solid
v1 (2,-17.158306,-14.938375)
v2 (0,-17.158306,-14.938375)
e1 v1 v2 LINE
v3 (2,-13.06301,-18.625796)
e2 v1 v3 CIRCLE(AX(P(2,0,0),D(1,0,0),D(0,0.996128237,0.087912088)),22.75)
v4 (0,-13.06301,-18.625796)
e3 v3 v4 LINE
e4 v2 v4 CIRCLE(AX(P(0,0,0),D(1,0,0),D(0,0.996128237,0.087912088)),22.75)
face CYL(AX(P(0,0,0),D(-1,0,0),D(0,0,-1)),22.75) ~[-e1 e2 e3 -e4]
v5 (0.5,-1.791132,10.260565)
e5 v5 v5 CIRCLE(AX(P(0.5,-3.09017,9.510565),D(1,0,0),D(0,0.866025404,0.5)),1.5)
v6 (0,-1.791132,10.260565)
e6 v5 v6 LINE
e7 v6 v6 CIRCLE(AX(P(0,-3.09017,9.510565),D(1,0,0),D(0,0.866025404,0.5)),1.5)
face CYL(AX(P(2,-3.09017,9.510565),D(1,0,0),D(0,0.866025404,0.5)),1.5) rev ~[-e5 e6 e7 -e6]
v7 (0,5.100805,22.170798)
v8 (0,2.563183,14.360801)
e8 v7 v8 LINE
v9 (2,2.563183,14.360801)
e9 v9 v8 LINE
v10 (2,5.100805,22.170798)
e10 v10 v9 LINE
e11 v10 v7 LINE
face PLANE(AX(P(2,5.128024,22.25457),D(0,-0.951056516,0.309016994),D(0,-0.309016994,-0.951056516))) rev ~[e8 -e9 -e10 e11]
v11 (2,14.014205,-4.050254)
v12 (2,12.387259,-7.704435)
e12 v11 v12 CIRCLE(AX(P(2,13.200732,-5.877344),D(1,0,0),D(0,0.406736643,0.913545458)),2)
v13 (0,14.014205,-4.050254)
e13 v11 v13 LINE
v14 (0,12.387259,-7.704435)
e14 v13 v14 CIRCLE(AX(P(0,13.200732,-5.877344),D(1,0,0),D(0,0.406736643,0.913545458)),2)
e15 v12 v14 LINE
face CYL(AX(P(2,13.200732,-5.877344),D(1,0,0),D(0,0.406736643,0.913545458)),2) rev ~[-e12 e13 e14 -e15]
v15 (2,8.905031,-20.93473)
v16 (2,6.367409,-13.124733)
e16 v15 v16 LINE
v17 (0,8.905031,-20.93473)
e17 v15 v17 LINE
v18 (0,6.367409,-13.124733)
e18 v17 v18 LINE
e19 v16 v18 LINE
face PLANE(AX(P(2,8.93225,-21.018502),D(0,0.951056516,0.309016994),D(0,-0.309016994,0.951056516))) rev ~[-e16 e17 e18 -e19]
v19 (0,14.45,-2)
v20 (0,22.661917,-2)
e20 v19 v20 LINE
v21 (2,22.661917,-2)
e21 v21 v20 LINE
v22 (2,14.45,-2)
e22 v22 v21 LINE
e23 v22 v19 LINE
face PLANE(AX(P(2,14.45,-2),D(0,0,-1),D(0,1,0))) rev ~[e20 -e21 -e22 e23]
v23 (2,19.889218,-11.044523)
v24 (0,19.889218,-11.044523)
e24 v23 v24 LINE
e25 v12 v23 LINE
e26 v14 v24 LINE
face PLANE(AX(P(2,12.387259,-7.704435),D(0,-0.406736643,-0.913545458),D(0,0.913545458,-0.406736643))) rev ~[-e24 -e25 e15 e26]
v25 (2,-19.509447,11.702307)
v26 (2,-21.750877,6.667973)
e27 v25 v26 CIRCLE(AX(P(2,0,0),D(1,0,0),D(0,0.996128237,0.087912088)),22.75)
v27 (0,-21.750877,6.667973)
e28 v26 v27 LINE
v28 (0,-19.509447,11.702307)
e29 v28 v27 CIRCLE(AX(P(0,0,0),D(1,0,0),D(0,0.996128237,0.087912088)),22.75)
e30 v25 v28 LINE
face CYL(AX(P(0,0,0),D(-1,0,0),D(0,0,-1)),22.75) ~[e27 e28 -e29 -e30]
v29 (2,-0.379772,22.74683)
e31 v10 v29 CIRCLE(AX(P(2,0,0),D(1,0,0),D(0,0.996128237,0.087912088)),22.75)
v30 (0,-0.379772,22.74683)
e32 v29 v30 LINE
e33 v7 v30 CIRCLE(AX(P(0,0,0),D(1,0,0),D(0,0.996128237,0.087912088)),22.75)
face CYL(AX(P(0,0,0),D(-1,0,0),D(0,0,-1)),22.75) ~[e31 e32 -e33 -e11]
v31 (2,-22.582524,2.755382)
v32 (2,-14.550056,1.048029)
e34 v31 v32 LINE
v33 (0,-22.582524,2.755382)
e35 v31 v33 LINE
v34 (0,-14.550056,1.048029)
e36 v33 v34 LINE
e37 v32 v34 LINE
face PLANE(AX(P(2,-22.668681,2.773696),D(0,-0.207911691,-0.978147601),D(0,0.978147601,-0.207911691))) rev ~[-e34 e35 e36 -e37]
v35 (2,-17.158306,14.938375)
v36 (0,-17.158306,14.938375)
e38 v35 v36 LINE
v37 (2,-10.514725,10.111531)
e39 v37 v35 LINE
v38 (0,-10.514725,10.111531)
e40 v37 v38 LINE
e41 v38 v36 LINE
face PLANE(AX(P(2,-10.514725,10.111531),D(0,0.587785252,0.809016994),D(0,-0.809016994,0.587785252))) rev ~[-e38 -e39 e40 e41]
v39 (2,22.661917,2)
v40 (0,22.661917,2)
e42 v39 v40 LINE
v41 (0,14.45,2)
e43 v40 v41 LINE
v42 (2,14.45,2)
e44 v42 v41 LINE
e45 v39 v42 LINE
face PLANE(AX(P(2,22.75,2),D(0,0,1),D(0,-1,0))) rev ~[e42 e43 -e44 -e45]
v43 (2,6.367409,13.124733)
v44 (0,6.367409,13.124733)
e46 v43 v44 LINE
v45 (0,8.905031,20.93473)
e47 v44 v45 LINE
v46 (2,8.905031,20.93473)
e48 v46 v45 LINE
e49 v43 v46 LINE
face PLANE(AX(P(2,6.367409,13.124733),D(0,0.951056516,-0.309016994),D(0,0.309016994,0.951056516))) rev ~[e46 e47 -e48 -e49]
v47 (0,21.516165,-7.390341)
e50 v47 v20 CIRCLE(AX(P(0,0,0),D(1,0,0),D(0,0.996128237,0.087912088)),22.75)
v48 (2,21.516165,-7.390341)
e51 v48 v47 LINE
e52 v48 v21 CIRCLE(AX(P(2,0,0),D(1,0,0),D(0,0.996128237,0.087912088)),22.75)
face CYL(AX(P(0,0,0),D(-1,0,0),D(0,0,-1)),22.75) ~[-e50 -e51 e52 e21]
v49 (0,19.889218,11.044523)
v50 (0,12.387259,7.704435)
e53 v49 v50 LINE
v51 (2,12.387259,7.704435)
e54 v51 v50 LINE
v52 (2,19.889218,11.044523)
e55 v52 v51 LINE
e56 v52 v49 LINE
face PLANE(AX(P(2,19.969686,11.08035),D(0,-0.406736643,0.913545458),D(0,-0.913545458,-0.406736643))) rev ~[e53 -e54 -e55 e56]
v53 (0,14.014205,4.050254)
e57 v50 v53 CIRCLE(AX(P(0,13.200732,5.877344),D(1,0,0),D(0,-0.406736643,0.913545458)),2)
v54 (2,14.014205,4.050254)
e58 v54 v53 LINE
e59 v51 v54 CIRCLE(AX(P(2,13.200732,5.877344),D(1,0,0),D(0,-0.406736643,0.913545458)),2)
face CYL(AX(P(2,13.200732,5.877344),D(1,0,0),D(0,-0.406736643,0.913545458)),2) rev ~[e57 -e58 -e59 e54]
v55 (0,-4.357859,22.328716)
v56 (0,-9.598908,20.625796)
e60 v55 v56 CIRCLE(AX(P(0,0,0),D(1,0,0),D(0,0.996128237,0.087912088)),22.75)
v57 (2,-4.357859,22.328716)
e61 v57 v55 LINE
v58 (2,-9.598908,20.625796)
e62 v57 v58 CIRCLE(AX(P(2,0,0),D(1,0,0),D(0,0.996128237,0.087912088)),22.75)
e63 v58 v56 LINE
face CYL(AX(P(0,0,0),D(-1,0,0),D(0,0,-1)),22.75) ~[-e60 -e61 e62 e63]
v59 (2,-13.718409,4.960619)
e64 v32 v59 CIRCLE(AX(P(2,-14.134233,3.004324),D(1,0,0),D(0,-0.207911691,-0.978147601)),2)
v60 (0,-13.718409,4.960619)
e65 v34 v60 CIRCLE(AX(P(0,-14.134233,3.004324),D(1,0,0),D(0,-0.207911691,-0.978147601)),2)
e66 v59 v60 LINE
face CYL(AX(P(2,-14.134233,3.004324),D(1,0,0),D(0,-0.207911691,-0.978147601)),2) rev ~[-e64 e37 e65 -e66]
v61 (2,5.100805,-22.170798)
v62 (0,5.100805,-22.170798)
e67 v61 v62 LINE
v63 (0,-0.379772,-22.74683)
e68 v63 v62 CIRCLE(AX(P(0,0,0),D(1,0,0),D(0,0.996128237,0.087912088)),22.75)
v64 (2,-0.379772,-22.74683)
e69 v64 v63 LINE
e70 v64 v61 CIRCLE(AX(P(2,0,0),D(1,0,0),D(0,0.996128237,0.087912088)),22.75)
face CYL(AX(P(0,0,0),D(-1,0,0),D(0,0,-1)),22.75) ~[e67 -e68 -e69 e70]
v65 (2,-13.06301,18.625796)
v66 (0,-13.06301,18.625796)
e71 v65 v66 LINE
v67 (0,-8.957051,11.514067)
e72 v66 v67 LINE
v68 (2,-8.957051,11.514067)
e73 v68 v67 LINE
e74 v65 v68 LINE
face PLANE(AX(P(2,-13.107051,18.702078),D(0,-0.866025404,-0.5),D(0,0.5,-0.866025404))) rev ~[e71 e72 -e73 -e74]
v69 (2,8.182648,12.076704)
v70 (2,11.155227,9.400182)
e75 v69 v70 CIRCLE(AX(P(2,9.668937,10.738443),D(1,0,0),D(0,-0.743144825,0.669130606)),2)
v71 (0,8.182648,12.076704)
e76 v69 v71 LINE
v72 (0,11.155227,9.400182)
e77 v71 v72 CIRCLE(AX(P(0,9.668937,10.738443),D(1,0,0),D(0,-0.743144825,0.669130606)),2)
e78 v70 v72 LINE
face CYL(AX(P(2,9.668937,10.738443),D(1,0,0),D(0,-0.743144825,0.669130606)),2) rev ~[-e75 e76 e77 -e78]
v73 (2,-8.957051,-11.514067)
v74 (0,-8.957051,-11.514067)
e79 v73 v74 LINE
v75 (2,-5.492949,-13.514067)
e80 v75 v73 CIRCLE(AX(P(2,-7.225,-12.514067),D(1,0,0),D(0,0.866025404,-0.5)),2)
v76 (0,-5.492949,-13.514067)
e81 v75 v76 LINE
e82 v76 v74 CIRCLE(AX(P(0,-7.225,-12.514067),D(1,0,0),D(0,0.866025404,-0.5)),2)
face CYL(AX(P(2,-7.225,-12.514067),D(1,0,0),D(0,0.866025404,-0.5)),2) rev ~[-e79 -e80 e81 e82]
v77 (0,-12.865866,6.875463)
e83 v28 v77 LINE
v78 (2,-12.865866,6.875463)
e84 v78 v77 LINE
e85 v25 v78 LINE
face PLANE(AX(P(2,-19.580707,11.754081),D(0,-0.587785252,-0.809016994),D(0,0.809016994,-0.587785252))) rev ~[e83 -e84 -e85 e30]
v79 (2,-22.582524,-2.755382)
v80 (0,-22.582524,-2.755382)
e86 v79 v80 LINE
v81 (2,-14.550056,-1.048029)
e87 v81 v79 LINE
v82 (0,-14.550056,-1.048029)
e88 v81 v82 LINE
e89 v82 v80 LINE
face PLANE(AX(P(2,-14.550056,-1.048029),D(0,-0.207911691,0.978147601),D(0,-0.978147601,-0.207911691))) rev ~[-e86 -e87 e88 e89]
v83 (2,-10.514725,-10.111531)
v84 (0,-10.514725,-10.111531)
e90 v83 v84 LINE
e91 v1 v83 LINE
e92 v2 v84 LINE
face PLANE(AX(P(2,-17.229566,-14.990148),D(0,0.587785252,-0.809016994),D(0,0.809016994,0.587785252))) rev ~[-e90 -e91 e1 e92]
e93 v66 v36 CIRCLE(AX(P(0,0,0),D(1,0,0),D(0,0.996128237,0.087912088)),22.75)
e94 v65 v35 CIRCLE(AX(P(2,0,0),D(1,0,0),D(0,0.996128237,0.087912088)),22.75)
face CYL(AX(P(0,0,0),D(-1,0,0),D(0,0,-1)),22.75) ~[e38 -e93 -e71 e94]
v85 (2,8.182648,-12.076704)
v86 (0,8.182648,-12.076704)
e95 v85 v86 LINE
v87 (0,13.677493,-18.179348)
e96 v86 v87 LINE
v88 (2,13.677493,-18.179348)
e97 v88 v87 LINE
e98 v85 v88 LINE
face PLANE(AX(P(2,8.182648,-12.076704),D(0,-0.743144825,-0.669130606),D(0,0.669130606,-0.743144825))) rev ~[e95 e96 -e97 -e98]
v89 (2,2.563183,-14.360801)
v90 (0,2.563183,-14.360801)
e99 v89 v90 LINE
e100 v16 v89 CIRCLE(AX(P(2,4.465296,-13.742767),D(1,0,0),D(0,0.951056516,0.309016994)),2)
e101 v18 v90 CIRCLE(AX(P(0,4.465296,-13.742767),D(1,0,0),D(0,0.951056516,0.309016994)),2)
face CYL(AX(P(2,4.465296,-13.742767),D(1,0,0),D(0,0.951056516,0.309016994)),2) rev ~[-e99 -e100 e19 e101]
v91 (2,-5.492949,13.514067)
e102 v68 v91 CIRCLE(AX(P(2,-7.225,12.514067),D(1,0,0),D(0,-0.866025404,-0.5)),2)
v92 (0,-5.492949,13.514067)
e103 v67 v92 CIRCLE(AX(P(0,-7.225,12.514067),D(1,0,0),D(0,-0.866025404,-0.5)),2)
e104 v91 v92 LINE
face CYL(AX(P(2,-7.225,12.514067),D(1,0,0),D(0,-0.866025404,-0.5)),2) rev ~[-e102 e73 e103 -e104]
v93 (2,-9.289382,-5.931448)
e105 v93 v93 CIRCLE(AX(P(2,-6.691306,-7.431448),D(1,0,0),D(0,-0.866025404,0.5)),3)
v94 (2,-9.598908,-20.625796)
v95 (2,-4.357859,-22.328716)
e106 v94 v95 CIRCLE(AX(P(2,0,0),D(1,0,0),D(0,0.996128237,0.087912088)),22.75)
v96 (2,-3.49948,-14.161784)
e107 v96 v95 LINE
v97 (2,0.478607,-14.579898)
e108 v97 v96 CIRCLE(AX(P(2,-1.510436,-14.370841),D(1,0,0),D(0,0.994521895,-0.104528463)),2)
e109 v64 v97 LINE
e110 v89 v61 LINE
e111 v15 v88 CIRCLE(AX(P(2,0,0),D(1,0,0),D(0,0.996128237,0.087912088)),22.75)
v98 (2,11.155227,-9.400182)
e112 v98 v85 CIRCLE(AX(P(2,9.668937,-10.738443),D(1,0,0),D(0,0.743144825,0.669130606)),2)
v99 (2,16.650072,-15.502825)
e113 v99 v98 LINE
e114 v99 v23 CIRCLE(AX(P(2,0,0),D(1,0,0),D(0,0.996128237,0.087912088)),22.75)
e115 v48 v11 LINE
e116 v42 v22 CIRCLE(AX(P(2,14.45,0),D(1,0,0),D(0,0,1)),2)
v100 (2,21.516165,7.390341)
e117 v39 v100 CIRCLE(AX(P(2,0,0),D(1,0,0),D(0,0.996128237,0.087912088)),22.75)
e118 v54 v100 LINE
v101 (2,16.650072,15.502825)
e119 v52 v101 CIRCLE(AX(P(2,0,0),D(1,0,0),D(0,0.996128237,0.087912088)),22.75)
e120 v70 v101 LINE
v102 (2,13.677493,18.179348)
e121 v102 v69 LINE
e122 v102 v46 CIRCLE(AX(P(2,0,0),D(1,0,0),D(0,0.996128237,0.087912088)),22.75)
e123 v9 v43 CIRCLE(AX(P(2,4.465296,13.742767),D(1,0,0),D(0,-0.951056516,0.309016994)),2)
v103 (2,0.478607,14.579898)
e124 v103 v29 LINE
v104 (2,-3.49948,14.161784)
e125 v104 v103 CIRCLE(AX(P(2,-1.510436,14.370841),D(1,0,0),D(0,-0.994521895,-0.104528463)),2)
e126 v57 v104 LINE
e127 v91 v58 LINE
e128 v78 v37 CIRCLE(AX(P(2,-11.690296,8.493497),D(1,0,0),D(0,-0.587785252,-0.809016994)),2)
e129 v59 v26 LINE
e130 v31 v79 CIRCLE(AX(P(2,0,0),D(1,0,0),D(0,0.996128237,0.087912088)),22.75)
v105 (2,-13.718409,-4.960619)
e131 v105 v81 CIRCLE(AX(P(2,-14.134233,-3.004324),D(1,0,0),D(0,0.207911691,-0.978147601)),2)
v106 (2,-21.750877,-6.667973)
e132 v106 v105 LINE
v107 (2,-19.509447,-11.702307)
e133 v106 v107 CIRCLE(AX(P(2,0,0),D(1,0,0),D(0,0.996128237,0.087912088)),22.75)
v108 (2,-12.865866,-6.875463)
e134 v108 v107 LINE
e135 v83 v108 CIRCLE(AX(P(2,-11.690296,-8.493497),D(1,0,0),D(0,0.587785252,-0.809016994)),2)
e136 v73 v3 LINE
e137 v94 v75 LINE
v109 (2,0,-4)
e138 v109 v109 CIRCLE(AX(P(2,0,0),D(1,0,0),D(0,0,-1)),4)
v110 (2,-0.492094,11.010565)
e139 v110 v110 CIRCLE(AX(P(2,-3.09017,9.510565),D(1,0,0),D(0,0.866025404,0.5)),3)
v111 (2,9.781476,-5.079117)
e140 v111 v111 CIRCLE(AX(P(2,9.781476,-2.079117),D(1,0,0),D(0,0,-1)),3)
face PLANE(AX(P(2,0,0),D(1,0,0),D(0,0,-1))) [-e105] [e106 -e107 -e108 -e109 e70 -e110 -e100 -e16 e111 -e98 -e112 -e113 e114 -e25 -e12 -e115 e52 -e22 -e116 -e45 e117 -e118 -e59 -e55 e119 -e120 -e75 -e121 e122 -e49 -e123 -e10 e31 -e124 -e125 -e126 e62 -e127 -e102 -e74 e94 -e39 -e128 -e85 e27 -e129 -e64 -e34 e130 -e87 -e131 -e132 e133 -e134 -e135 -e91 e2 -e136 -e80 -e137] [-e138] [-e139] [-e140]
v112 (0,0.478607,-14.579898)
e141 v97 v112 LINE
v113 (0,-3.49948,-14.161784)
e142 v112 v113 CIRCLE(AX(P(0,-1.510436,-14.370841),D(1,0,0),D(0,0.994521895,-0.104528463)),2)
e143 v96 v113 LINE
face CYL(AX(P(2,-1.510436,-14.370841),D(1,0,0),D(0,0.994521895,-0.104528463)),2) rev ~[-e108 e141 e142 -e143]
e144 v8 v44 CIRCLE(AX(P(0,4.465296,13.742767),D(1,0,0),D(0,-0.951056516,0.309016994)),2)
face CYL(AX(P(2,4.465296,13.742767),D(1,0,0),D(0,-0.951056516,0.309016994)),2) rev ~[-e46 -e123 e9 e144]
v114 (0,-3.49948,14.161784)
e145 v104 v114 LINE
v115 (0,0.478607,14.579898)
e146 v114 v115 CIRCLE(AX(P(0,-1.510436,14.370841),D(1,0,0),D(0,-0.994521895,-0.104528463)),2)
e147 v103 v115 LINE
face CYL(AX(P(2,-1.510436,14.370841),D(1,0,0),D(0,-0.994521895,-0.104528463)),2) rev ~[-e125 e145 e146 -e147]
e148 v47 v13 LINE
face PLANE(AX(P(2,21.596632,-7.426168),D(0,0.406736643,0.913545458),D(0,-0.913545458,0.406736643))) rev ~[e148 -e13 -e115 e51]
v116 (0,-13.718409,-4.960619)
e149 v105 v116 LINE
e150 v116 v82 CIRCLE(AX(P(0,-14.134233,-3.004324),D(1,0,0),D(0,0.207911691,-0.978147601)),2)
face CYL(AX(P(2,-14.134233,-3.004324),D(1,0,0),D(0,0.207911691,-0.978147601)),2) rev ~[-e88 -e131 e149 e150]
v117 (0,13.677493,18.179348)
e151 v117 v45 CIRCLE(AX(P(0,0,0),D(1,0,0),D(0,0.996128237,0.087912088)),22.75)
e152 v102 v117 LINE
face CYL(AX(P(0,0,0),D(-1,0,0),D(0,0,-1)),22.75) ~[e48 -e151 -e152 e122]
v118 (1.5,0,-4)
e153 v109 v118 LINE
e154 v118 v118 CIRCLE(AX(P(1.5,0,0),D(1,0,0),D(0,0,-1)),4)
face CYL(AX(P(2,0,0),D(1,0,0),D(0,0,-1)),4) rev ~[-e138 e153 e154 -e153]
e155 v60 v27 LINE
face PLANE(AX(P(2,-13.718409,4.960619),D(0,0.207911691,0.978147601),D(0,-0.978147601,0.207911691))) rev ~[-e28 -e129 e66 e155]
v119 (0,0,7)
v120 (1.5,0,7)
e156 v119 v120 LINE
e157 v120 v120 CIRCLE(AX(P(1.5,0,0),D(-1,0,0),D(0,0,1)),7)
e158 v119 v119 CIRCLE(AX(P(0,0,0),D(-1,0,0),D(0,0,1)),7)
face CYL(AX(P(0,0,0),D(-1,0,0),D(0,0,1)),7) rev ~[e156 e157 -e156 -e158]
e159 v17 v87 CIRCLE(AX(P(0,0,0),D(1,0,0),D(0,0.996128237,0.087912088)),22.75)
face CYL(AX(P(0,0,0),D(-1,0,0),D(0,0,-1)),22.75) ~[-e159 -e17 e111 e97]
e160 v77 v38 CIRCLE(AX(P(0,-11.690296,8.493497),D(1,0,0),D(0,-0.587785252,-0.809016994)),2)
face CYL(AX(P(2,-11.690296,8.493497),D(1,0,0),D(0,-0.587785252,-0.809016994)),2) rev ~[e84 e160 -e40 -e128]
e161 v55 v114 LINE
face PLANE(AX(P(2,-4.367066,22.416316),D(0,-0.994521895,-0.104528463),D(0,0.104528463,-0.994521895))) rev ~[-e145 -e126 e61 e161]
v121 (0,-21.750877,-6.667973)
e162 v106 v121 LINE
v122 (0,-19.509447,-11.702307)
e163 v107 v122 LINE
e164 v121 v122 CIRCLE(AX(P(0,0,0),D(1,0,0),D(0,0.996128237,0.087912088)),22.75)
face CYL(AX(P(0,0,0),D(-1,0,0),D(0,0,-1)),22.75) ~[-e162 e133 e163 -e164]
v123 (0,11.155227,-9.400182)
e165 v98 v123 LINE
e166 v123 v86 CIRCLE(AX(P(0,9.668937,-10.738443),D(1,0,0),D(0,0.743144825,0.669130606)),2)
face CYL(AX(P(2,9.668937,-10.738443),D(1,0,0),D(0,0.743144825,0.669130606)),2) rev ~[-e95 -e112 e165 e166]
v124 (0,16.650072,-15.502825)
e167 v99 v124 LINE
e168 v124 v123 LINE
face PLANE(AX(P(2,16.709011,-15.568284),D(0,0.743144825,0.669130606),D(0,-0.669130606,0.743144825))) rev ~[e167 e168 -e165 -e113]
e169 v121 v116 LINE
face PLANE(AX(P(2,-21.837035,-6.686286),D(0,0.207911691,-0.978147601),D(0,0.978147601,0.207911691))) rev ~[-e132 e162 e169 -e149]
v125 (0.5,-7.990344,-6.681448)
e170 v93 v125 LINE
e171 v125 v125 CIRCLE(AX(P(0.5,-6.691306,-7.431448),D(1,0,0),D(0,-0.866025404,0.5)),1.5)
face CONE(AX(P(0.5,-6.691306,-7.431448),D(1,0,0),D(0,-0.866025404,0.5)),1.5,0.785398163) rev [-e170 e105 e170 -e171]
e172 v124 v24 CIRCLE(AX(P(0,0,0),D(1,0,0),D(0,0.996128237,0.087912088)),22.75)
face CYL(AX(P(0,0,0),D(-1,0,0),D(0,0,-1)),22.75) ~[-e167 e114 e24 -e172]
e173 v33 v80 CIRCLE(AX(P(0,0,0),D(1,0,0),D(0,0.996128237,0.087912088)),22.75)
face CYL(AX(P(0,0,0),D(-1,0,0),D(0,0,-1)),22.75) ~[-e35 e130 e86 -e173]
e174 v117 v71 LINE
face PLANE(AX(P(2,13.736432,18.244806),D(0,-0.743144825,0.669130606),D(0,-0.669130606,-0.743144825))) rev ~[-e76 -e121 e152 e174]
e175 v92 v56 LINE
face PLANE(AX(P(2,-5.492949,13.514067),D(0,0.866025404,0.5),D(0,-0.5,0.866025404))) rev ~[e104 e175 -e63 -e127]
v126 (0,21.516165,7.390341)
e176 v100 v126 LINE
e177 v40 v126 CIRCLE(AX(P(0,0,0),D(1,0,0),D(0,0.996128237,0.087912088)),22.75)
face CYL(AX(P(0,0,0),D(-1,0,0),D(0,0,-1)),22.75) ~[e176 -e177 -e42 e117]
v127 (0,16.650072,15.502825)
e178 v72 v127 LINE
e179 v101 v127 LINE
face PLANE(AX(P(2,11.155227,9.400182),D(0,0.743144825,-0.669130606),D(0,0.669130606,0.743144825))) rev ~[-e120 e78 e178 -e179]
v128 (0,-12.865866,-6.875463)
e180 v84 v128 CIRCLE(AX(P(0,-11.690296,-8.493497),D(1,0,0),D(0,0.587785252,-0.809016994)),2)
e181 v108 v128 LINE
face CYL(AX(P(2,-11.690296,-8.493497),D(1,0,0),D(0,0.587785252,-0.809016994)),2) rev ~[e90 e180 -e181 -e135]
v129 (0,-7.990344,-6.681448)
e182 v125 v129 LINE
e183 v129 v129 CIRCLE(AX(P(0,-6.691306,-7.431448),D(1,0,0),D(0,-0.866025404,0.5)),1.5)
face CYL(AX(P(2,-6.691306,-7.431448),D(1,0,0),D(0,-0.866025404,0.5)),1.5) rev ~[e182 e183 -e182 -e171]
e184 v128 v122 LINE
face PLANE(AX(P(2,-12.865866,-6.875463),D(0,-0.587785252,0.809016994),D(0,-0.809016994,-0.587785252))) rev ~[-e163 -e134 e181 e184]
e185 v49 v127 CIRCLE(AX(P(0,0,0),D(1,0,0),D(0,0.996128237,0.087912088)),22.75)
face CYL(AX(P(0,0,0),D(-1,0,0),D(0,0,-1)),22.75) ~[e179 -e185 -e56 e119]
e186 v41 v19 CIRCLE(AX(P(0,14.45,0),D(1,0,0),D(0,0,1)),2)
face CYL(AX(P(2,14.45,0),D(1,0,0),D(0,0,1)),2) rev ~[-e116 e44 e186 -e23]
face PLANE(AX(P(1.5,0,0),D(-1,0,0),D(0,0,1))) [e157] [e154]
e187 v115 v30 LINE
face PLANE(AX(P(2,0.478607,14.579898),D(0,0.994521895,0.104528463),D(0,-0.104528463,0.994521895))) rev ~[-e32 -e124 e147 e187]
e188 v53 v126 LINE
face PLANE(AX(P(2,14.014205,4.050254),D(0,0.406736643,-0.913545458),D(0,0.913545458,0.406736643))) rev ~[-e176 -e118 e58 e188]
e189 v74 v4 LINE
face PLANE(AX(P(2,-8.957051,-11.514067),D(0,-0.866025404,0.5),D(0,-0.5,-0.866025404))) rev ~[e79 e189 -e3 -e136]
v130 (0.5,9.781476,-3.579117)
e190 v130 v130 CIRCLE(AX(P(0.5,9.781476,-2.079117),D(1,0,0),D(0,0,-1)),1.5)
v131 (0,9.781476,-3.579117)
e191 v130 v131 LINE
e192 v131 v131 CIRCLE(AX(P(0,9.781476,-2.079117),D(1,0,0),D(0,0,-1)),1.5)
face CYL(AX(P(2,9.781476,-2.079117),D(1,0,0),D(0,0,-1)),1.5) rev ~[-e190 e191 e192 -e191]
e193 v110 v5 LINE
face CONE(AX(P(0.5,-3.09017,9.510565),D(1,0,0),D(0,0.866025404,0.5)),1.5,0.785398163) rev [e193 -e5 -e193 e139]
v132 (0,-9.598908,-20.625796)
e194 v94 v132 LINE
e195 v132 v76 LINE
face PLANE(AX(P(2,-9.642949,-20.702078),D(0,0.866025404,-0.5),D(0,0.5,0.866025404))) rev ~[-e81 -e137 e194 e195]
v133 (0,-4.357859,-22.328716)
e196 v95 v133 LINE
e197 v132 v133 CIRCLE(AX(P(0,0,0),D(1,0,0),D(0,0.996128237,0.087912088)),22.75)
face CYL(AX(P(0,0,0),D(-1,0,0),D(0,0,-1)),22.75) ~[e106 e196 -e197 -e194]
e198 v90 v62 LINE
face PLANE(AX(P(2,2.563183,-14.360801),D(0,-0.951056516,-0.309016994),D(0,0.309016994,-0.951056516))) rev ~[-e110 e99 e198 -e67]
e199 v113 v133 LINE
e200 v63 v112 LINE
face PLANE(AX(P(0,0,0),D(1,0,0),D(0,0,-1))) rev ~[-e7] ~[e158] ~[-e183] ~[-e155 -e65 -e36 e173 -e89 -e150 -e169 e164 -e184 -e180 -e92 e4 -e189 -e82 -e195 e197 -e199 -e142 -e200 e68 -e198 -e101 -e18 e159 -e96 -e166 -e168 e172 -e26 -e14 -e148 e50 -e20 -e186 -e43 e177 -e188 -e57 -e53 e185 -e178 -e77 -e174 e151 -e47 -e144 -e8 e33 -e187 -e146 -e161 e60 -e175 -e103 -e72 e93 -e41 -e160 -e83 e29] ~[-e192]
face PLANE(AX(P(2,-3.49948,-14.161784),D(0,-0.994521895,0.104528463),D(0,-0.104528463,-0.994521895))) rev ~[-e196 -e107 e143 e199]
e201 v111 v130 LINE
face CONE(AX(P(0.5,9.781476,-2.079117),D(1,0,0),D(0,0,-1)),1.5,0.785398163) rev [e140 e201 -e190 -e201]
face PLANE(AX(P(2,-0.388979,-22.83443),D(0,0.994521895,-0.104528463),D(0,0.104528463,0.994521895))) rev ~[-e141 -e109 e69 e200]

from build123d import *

# Parameters (mm, degrees)
SKETCH1_R                    = 22.75
BOSS_EXTRUDE1_DEPTH          = 2
CUT_EXTRUDE2_REACH           = 4
SKETCH3_R                    = 4
SKETCH2_R                    = 1.5
CUT_EXTRUDE1_DEPTH           = 2
CHAMFER1_SIZE                = 1.5
CIRPATTERN1_COUNT            = 3
CHAMFER1_OF_CIRPATTERN1_SIZE = 1.5
CUT_EXTRUDE3_DEPTH           = 2
CIRPATTERN2_COUNT            = 15
SKETCH5_R                    = 7
CUT_EXTRUDE4_DEPTH           = 1.5


with BuildPart() as part:
    # Sketch1 → Boss-Extrude1 (new body)
    with BuildSketch(Plane(origin=(0, 0, 0), x_dir=(0, 0, -1), z_dir=(1, 0, 0))):
        Circle(SKETCH1_R)
    extrude(amount=BOSS_EXTRUDE1_DEPTH)

    # Sketch3 → Cut-Extrude2 (cut, up to next)
    with BuildSketch(Plane(origin=(2, 0, 0), x_dir=(0, 0, -1), z_dir=(1, 0, 0)), mode=Mode.PRIVATE) as cut_extrude2_sk1:
        Circle(SKETCH3_R)
    cut_extrude2_tool1 = extrude(cut_extrude2_sk1.sketch, amount=-CUT_EXTRUDE2_REACH, mode=Mode.PRIVATE) & part.part
    add(cut_extrude2_tool1.solids().sort_by_distance((2, 0, 0))[0], mode=Mode.SUBTRACT)

    # Sketch2 → Cut-Extrude1 (cut)
    with BuildSketch(Plane(origin=(2, 0, 0), x_dir=(0, 0, -1), z_dir=(1, 0, 0))):
        with Locations((2.079116908, 9.781476007)):
            Circle(SKETCH2_R)
    cut_extrude1 = extrude(amount=-CUT_EXTRUDE1_DEPTH, mode=Mode.SUBTRACT)

    # Chamfer1
    chamfer1_edges = [part.edges().sort_by_distance(p)[0] for p in [
        (2, 9.781476007, -0.579116908),
    ]]
    chamfer(chamfer1_edges, length=CHAMFER1_SIZE)

    # CirPattern1: Cut-Extrude1 ×3 about axis
    cirpattern1_axis = Axis((0, 0, 0), (1, 0, 0))
    for i in range(1, CIRPATTERN1_COUNT):
        add(cut_extrude1.rotate(cirpattern1_axis, i * 360 / CIRPATTERN1_COUNT), mode=Mode.SUBTRACT)

    # Chamfer1 of CirPattern1
    chamfer1_of_cirpattern1_edges = [part.edges().sort_by_distance(p)[0] for p in [
        (2, -4.389208049, 8.760565163),
        (2, -5.392267958, -8.181448255),
    ]]
    chamfer(chamfer1_of_cirpattern1_edges, length=CHAMFER1_OF_CIRPATTERN1_SIZE)

    # Sketch4 → Cut-Extrude3 (cut)
    with BuildSketch(Plane(origin=(2, 0, 0), x_dir=(0, 0, -1), z_dir=(1, 0, 0))):
        with BuildLine():
            Line((-2, 22.75), (-2, 14.45))
            ThreePointArc((-2, 14.45), (0, 12.45), (2, 14.45))
            Line((2, 14.45), (2, 22.75))
            Line((2, 22.75), (-2, 22.75))
        make_face()
    cut_extrude3 = extrude(amount=-CUT_EXTRUDE3_DEPTH, mode=Mode.SUBTRACT)

    # CirPattern2: Cut-Extrude3 ×15 about axis
    cirpattern2_axis = Axis((0, 0, 0), (1, 0, 0))
    for i in range(1, CIRPATTERN2_COUNT):
        add(cut_extrude3.rotate(cirpattern2_axis, i * 360 / CIRPATTERN2_COUNT), mode=Mode.SUBTRACT)

    # Sketch5 → Cut-Extrude4 (cut)
    with BuildSketch(Plane.ZY):
        Circle(SKETCH5_R)
    extrude(amount=-CUT_EXTRUDE4_DEPTH, mode=Mode.SUBTRACT)


solid = part.part
